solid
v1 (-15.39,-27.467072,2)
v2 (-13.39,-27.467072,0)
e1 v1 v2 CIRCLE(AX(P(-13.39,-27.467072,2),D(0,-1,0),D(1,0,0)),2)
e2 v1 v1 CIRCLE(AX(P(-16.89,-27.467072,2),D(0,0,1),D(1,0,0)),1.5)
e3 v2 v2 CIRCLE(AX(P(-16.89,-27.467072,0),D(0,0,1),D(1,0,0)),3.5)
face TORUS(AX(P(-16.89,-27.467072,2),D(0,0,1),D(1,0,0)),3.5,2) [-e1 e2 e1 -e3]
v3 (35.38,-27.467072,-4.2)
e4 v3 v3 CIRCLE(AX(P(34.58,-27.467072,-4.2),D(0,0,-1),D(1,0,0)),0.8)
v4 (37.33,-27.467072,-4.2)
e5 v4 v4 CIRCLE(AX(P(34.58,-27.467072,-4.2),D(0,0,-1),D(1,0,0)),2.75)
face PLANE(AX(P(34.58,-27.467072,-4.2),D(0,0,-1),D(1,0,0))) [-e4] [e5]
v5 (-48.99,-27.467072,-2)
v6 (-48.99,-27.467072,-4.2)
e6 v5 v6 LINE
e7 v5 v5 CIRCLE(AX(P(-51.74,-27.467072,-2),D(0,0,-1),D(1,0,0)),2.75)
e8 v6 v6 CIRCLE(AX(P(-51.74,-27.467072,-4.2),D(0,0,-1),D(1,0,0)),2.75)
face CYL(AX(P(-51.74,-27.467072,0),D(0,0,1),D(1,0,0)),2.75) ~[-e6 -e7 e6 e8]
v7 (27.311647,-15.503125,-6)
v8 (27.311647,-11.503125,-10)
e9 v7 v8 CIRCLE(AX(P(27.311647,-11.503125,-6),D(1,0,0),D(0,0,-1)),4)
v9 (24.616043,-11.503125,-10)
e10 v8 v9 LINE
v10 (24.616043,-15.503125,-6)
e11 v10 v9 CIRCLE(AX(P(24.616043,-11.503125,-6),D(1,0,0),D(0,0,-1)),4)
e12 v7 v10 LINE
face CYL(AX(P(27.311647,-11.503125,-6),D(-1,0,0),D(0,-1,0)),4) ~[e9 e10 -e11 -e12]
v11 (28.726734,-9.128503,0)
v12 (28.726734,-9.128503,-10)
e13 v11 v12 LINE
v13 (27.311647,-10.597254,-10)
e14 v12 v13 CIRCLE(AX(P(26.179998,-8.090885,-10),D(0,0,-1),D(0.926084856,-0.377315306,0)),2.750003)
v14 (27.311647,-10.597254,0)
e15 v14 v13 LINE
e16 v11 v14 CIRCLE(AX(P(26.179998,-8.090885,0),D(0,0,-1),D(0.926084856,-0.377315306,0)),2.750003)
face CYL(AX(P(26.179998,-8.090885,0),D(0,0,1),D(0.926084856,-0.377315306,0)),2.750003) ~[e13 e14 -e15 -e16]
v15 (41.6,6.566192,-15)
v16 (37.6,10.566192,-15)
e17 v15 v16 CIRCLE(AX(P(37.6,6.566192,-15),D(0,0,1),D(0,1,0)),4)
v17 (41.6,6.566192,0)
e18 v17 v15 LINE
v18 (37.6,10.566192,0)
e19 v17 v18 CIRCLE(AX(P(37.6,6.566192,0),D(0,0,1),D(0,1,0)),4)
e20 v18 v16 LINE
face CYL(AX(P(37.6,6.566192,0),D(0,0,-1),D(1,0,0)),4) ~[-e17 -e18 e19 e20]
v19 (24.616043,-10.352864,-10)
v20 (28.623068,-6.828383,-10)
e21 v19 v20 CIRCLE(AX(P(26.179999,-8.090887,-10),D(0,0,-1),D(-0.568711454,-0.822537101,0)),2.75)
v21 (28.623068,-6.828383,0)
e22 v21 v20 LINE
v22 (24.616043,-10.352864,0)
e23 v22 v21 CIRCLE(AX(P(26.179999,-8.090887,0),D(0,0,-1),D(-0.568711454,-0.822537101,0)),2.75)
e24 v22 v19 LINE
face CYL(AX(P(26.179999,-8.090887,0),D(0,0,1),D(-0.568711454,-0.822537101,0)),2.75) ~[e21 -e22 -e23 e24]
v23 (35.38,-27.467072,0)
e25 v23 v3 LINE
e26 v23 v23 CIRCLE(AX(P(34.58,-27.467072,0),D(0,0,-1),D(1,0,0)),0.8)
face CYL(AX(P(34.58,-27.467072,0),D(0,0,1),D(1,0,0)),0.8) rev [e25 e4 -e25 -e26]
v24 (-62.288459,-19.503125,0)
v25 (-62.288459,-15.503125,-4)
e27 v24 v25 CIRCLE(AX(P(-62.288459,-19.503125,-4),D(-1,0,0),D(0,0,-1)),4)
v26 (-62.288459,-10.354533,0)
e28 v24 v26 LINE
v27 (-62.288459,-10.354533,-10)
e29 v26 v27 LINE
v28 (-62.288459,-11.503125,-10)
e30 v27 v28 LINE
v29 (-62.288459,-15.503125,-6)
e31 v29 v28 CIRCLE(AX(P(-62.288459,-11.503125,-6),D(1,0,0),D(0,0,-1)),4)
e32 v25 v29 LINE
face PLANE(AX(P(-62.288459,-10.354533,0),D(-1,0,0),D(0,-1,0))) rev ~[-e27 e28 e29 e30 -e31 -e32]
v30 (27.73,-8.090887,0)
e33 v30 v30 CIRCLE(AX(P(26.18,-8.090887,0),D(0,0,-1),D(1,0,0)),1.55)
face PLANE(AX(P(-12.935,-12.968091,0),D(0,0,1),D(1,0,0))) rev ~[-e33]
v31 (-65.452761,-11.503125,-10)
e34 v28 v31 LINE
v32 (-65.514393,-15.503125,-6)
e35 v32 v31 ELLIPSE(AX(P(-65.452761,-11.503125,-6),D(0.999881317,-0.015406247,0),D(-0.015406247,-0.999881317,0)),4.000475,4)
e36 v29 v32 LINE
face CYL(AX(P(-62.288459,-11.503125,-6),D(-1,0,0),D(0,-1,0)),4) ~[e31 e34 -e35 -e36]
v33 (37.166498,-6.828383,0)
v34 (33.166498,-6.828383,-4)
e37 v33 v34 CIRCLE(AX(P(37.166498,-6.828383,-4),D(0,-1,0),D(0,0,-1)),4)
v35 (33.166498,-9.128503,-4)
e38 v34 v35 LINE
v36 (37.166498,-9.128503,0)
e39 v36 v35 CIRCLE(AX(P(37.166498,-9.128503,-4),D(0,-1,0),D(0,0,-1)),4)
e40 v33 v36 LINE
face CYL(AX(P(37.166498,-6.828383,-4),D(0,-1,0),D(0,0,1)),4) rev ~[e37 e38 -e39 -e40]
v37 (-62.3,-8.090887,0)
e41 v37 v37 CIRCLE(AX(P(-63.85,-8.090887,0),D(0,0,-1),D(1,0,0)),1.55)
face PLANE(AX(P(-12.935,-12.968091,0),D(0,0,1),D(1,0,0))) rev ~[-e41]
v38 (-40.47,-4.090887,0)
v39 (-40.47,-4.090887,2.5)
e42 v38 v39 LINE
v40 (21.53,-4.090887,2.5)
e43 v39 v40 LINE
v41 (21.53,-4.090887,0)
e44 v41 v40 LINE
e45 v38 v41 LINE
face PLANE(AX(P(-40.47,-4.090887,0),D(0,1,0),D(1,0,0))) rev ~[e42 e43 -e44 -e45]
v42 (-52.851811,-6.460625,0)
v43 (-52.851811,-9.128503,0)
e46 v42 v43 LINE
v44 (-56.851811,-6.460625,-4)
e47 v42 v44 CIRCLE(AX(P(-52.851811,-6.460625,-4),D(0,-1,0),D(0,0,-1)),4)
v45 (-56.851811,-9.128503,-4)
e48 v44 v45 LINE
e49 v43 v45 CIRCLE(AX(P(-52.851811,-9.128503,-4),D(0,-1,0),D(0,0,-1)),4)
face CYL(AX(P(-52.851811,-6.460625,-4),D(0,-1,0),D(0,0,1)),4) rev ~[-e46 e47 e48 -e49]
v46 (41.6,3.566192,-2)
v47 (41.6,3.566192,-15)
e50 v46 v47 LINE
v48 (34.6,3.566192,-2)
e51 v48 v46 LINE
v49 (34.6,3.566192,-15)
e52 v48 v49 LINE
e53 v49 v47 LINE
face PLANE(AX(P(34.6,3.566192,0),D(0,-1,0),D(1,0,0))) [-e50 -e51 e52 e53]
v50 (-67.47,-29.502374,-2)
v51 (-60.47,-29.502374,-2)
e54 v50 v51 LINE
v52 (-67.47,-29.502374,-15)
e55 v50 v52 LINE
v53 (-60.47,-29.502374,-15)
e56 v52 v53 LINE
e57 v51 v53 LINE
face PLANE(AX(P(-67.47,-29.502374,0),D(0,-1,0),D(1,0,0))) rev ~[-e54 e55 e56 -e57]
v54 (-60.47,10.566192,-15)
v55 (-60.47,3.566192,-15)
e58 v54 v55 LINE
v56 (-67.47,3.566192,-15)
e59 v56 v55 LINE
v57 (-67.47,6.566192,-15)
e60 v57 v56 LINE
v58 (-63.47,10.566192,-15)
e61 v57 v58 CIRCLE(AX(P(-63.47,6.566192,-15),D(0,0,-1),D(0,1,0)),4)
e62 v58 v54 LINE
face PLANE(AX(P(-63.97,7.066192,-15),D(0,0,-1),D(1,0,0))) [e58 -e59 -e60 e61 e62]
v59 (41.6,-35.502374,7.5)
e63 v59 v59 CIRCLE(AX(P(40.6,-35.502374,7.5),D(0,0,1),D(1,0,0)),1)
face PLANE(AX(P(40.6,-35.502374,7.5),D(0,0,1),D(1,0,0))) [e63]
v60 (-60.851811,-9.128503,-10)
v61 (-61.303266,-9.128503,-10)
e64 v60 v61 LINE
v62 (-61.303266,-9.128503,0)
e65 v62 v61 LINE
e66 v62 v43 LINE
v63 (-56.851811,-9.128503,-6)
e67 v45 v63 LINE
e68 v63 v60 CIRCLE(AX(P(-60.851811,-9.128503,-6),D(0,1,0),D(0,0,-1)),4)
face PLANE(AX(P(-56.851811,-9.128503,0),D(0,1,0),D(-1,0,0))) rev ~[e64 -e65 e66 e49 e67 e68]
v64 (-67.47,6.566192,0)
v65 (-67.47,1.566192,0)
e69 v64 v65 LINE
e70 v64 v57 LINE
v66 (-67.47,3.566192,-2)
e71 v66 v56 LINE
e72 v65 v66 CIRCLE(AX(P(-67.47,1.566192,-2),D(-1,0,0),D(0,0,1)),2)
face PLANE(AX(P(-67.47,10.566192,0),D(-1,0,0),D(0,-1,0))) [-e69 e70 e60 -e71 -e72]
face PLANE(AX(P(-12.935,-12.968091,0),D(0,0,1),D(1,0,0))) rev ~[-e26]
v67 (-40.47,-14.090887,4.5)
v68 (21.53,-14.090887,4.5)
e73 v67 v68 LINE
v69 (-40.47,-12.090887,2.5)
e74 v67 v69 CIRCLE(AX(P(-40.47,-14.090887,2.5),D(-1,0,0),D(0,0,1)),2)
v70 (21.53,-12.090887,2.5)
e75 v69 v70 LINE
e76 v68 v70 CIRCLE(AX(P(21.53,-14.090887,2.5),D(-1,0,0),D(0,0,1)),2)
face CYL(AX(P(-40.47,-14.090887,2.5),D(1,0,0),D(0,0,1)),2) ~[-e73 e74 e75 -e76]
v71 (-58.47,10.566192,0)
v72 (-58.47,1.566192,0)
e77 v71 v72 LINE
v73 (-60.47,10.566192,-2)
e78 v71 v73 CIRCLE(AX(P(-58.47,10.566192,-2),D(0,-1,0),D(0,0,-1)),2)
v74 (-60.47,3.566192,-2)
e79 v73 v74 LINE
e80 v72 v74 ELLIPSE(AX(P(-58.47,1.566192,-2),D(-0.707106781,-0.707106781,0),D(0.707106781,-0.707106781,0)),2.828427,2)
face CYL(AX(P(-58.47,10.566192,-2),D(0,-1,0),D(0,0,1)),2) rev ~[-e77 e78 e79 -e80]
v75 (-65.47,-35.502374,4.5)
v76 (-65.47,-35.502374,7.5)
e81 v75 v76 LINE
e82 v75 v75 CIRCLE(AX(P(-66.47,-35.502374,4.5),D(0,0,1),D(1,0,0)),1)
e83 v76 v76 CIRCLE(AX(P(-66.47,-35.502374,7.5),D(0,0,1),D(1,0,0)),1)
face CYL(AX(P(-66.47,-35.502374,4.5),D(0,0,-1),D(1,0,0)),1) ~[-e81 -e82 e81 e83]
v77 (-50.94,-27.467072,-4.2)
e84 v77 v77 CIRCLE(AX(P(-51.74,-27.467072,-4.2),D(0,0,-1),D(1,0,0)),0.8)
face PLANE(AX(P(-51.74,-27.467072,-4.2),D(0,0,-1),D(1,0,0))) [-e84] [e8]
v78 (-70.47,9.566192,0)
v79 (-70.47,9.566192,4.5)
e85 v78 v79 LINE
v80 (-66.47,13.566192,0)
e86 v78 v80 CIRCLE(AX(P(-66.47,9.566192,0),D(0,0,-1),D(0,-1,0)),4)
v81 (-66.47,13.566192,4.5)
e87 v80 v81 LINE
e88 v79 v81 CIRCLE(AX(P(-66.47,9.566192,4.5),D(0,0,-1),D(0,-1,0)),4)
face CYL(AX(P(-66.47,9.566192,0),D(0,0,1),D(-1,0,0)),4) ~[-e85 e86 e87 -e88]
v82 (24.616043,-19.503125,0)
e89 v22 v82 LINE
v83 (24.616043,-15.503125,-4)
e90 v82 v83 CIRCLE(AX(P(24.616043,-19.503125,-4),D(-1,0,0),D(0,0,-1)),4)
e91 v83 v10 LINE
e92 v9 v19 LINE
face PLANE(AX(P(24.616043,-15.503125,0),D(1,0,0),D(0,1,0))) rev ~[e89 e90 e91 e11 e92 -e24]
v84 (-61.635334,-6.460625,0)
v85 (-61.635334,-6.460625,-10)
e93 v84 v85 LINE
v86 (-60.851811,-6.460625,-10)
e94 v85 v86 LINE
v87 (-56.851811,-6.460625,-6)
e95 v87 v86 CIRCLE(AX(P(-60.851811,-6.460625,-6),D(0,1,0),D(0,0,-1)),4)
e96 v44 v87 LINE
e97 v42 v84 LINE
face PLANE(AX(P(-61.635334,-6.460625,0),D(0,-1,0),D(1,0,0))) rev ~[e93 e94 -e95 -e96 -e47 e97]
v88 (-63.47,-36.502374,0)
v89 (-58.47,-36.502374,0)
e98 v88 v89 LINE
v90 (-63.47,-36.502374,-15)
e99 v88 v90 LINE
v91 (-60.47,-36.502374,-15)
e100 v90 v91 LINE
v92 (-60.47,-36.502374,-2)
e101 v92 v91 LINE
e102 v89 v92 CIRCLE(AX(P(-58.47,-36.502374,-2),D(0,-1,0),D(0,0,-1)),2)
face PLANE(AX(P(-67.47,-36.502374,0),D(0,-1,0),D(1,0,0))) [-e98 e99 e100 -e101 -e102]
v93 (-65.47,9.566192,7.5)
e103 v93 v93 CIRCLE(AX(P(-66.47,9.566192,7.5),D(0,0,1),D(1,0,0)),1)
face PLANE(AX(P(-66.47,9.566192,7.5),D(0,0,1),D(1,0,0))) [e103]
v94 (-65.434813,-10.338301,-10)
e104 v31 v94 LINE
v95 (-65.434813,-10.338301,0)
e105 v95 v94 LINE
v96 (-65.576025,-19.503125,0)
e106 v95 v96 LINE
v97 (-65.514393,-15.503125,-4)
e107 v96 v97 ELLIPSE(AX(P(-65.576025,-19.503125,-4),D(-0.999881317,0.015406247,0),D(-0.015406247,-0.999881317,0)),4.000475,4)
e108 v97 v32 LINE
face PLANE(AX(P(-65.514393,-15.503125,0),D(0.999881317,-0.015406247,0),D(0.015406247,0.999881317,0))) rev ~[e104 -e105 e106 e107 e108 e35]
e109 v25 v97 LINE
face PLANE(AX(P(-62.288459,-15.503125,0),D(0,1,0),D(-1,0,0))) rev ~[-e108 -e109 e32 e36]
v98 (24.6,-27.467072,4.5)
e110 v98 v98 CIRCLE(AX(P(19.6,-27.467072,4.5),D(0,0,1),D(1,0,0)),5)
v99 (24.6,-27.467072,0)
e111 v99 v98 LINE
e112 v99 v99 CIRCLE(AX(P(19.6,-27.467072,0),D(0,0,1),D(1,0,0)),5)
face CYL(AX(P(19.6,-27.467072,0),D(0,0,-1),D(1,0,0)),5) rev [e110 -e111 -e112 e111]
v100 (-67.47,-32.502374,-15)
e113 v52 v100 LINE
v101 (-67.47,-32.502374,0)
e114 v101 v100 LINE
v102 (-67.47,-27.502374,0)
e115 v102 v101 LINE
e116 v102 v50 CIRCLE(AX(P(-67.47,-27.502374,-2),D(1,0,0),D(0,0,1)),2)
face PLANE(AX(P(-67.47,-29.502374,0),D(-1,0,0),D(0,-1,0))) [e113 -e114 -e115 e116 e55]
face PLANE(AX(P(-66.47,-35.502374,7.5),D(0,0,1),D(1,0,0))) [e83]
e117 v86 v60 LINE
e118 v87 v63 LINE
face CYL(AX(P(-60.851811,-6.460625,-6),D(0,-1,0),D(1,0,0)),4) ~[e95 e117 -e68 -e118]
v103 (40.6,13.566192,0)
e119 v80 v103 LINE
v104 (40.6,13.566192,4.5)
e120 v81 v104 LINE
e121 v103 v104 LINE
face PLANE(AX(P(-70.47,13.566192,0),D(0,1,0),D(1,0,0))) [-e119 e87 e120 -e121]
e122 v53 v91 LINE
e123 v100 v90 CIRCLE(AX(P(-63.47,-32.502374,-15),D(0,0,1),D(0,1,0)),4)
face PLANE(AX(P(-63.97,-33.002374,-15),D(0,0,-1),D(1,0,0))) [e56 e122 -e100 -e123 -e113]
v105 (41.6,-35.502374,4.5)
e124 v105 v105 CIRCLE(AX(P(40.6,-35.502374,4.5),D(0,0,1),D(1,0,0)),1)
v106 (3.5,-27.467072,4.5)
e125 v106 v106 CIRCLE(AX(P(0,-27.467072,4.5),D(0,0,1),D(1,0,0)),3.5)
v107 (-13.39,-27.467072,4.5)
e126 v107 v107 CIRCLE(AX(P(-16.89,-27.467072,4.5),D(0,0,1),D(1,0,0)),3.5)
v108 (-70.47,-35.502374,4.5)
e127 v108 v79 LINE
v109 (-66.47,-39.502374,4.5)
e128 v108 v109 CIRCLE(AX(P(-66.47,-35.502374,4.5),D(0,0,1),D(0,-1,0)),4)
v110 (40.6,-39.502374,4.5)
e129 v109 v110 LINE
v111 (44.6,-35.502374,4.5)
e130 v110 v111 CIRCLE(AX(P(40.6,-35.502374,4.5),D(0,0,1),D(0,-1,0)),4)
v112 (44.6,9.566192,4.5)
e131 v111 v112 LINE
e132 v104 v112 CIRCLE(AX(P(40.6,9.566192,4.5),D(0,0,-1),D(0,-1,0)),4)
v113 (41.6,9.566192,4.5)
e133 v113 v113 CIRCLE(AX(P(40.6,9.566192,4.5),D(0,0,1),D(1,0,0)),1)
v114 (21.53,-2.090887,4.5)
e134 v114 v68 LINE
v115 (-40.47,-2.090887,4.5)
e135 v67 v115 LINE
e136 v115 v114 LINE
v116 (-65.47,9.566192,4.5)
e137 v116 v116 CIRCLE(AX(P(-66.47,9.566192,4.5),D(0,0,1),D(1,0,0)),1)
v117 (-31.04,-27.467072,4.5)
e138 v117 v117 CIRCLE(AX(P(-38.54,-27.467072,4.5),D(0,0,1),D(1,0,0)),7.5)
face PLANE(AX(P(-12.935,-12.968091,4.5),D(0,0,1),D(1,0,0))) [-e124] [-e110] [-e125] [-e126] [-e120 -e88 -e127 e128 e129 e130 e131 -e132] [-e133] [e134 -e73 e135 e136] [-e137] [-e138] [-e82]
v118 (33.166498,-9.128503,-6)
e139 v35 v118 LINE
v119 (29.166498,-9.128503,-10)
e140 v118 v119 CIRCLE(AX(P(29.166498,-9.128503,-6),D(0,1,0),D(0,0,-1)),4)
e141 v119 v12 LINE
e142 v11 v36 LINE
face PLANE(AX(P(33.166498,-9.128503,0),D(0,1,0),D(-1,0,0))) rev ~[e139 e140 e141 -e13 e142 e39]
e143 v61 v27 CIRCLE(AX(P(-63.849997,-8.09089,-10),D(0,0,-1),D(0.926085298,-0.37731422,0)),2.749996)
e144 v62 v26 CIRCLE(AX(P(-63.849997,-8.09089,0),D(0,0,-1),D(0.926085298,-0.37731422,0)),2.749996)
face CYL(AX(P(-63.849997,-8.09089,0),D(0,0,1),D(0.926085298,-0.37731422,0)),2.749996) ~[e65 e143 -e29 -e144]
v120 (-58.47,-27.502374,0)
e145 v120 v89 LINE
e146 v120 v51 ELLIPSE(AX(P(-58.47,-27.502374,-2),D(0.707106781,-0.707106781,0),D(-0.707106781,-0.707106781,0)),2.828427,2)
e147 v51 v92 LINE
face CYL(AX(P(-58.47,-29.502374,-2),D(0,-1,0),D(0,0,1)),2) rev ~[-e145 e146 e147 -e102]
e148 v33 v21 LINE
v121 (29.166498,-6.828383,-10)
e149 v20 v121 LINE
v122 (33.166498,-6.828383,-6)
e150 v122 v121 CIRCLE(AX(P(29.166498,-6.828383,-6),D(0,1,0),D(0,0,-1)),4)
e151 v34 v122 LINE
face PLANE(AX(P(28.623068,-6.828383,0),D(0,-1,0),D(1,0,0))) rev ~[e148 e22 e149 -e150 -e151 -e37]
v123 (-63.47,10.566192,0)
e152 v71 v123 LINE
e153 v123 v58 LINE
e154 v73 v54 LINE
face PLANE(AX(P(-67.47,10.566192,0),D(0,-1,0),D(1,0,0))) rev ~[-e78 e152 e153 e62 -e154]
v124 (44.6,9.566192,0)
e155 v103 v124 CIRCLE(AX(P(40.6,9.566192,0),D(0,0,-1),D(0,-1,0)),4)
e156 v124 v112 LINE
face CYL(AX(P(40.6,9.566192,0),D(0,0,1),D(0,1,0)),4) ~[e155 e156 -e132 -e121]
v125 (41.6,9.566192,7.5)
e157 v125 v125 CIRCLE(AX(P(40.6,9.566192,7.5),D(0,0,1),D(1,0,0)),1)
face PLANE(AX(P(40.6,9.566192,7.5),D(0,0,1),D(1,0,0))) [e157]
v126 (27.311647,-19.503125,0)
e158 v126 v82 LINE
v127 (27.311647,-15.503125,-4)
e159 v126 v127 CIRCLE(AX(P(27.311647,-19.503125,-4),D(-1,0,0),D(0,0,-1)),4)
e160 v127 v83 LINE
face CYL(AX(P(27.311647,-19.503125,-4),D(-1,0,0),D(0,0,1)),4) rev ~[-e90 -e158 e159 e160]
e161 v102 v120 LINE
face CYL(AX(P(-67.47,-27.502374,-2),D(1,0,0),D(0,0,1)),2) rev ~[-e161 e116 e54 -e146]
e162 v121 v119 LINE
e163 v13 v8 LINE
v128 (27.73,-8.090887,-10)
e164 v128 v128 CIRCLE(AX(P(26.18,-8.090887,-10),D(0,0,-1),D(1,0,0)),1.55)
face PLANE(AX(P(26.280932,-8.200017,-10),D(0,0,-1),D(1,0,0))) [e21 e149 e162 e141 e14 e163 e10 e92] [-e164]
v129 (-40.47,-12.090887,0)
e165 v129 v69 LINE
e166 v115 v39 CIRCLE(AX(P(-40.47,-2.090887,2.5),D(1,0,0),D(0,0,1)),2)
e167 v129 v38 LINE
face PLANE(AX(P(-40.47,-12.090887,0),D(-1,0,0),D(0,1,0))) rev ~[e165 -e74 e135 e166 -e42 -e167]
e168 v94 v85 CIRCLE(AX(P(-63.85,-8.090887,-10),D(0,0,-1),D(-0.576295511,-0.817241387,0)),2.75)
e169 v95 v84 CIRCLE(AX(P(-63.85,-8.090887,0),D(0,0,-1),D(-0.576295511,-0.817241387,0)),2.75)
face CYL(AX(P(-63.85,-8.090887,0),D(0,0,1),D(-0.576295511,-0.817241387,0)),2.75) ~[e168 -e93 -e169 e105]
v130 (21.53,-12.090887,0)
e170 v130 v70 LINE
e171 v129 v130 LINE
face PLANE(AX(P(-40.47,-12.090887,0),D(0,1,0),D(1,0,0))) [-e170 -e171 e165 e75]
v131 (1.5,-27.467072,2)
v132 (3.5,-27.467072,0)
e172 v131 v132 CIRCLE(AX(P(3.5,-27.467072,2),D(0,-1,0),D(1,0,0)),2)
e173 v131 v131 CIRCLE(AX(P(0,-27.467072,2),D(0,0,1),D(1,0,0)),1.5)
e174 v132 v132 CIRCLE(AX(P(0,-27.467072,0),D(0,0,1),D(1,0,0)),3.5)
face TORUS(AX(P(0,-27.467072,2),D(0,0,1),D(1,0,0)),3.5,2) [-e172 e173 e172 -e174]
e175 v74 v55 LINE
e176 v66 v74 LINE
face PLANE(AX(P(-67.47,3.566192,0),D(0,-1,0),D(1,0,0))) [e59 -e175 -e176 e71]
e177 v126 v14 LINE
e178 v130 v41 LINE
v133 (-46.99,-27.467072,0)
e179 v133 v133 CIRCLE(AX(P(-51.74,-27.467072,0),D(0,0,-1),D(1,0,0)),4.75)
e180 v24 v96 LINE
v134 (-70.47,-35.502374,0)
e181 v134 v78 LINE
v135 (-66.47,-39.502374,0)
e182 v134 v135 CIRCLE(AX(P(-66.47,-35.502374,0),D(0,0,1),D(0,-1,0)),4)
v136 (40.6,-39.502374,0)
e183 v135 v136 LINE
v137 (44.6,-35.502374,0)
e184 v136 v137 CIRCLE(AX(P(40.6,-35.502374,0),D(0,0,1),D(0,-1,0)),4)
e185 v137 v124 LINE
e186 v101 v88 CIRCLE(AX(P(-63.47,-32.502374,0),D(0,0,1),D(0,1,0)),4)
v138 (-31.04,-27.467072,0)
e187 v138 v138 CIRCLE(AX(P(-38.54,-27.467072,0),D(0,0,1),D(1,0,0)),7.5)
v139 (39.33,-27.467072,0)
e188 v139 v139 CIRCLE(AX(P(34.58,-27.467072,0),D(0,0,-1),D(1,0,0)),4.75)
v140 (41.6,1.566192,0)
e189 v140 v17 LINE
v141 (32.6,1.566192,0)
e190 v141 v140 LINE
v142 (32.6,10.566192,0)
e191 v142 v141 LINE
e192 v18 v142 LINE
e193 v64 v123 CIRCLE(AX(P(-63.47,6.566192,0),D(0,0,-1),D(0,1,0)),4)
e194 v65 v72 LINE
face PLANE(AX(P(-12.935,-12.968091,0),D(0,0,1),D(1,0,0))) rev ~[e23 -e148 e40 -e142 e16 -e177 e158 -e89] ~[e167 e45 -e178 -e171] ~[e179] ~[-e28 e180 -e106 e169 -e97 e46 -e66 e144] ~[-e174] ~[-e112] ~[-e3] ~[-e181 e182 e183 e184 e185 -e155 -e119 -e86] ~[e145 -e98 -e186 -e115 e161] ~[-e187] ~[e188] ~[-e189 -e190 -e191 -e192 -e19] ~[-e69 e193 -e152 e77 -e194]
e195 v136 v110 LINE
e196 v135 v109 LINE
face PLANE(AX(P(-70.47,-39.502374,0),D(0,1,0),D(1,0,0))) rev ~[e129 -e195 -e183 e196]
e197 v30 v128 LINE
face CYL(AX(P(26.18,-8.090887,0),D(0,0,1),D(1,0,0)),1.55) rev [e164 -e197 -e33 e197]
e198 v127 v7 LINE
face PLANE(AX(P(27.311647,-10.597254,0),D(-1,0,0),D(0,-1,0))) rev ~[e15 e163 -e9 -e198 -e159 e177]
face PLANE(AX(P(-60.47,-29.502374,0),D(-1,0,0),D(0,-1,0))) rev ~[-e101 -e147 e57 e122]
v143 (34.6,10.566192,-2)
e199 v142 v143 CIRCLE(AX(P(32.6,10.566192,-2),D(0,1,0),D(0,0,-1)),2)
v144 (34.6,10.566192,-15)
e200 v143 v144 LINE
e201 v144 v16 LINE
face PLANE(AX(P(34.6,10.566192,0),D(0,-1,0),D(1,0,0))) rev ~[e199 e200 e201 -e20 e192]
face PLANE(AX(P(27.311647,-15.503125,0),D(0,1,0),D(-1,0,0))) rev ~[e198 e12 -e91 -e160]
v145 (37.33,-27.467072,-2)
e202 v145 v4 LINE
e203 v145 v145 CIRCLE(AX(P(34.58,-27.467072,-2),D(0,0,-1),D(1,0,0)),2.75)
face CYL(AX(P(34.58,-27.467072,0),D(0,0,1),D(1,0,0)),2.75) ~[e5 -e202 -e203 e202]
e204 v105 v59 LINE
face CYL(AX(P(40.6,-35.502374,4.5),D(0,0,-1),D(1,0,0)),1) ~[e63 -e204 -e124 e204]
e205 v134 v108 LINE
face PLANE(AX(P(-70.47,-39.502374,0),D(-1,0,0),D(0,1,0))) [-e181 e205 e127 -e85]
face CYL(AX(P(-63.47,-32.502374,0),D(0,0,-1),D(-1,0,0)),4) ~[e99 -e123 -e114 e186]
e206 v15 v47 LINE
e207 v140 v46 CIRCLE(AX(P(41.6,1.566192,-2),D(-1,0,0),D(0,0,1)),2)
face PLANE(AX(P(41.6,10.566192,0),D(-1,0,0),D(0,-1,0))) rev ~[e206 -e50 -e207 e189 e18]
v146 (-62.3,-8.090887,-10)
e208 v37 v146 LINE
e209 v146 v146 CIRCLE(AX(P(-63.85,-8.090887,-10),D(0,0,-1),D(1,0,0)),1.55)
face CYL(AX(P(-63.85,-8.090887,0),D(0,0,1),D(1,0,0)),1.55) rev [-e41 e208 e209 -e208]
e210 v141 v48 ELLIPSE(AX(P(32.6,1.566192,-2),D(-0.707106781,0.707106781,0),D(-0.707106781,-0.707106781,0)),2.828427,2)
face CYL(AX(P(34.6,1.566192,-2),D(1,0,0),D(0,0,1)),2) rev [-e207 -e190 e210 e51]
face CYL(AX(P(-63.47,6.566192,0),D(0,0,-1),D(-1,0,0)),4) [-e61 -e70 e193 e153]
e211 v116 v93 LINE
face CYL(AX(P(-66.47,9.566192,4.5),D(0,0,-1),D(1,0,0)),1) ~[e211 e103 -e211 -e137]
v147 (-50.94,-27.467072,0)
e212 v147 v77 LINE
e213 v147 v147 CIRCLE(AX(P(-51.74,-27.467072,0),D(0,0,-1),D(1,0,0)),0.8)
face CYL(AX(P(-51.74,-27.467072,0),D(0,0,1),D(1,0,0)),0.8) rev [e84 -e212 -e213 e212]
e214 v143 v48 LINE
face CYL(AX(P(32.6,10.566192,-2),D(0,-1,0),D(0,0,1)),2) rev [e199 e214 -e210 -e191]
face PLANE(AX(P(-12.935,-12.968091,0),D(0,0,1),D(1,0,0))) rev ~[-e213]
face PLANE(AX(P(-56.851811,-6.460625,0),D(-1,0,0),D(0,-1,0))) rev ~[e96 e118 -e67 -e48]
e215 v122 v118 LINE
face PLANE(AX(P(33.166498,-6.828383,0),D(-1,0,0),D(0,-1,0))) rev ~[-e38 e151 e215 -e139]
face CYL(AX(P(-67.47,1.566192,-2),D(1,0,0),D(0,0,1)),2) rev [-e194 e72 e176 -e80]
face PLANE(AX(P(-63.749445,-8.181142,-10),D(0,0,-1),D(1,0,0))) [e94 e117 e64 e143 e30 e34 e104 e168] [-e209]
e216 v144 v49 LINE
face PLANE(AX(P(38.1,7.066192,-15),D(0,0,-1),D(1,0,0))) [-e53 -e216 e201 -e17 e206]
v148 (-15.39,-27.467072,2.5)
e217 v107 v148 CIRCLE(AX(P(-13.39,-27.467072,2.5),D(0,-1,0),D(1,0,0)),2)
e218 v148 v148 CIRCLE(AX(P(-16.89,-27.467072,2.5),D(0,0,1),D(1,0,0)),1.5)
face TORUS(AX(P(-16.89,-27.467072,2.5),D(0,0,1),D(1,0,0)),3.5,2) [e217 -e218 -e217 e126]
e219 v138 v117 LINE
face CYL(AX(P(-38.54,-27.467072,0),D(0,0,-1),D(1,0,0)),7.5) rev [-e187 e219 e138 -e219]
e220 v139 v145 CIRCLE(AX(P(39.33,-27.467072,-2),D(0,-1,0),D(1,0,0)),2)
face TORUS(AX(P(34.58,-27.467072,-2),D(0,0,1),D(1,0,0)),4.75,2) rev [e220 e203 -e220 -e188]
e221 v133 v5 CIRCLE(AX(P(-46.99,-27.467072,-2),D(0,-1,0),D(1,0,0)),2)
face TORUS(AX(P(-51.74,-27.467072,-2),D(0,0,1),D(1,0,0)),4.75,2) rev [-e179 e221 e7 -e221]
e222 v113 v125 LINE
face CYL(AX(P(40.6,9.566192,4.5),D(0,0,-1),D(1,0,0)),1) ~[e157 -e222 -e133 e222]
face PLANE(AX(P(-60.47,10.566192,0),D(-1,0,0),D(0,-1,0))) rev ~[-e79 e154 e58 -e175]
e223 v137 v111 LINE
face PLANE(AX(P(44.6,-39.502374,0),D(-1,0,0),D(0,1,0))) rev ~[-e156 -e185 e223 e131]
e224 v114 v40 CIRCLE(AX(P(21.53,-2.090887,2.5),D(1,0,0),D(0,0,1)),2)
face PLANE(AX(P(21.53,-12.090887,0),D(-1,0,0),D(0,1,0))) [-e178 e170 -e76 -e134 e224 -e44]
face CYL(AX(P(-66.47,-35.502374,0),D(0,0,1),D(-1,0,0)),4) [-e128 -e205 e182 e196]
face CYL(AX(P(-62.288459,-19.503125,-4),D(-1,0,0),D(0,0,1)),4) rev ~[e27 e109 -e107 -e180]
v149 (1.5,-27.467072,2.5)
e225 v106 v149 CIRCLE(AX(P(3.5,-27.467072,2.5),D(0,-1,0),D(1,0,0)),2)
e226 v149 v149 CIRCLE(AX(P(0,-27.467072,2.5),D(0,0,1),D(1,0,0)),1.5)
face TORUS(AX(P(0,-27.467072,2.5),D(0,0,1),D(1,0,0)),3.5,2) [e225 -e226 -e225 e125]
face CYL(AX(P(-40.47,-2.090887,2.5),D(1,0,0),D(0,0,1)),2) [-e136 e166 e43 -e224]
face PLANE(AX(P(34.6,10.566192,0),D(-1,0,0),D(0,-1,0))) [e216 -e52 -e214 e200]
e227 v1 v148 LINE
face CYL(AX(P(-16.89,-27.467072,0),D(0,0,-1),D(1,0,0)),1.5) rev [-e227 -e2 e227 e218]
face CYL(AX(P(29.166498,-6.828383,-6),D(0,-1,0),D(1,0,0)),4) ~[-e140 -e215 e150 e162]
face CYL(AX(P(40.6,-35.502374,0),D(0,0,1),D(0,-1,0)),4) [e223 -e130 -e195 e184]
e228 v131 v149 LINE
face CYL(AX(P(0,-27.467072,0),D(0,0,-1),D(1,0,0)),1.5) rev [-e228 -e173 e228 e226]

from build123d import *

# Parameters (mm, degrees)
F0_W     = 115.07
F0_H     = 53.068566
F0_R     = 7.5
F0_R_2   = 1.5
F0_R_3   = 5
F0_W_2   = 62
F0_H_2   = 8
F1_DEPTH = 4.5
F2_R     = 2.75
F2_R_2   = 0.8
F3_DEPTH = 4.2
F2_R_3   = 1.55
F4_DEPTH = 10
F2_W     = 7
F2_H     = 7
F5_DEPTH = 15
F6_R     = 4
F7_R     = 2
F8_R     = 1
F9_DEPTH = 3


with BuildPart() as f1:
    # F0 (on Top) → F1 (new body)
    with BuildSketch(Plane.XY):
        with Locations((-12.935, -12.968091)):
            Rectangle(F0_W, F0_H)
        with Locations((-38.54, -27.467072)):
            Circle(F0_R, mode=Mode.SUBTRACT)
        with Locations((-16.89, -27.467072)):
            Circle(F0_R_2, mode=Mode.SUBTRACT)
        with Locations((0, -27.467072)):
            Circle(F0_R_2, mode=Mode.SUBTRACT)
        with Locations((19.6, -27.467072)):
            Circle(F0_R_3, mode=Mode.SUBTRACT)
        with Locations((-9.47, -8.090887)):
            Rectangle(F0_W_2, F0_H_2, mode=Mode.SUBTRACT)
    extrude(amount=F1_DEPTH)

    # F2 (on face) → F3 (join)
    with BuildSketch(Plane(origin=(0, 0, 0), x_dir=(1, 0, 0), z_dir=(0, 0, -1))):
        with Locations((-51.74, 27.467072)):
            Circle(F2_R)
        with Locations((-51.74, 27.467072)):
            Circle(F2_R_2, mode=Mode.SUBTRACT)
        with Locations((34.58, 27.467072)):
            Circle(F2_R)
        with Locations((34.58, 27.467072)):
            Circle(F2_R_2, mode=Mode.SUBTRACT)
    extrude(amount=F3_DEPTH)

    # F2 (on face) → F4 (join)
    with BuildSketch(Plane(origin=(0, 0, 0), x_dir=(1, 0, 0), z_dir=(0, 0, -1))):
        with BuildLine():
            ThreePointArc((-61.635334, 6.460625), (-61.237259, 7.232933), (-61.1, 8.090887))
            ThreePointArc((-61.1, 8.090887), (-61.151295, 8.619556), (-61.303266, 9.128503))
            ThreePointArc((-61.303266, 9.128503), (-61.706342, 9.813453), (-62.288459, 10.354533))
            ThreePointArc((-62.288459, 10.354533), (-63.864187, 10.840851), (-65.434813, 10.338301))
            ThreePointArc((-65.434813, 10.338301), (-65.814249, 6.16625), (-61.635334, 6.460625))
        make_face()
        with Locations((-63.85, 8.090887)):
            Circle(F2_R_3, mode=Mode.SUBTRACT)
        with BuildLine():
            ThreePointArc((28.623068, 6.828383), (28.852166, 7.441248), (28.93, 8.090887))
            ThreePointArc((28.93, 8.090887), (28.878705, 8.619556), (28.726734, 9.128503))
            ThreePointArc((28.726734, 9.128503), (28.160386, 9.998915), (27.311647, 10.597254))
            ThreePointArc((27.311647, 10.597254), (25.931697, 10.829655), (24.616043, 10.352864))
            ThreePointArc((24.616043, 10.352864), (24.363767, 6.02599), (28.623068, 6.828383))
        make_face()
        with Locations((26.18, 8.090887)):
            Circle(F2_R_3, mode=Mode.SUBTRACT)
        with BuildLine():
            ThreePointArc((-65.434813, 10.338301), (-63.864187, 10.840851), (-62.288459, 10.354533))
            Line((-62.288459, 10.354533), (-62.288459, 15.503125))
            Line((-62.288459, 15.503125), (-65.514393, 15.503125))
            Line((-65.514393, 15.503125), (-65.434813, 10.338301))
        make_face()
        with BuildLine():
            ThreePointArc((-61.303266, 9.128503), (-61.151295, 8.619556), (-61.1, 8.090887))
            ThreePointArc((-61.1, 8.090887), (-61.237259, 7.232933), (-61.635334, 6.460625))
            Line((-61.635334, 6.460625), (-56.851811, 6.460625))
            Line((-56.851811, 6.460625), (-56.851811, 9.128503))
            Line((-56.851811, 9.128503), (-61.303266, 9.128503))
        make_face()
        with BuildLine():
            ThreePointArc((24.616043, 10.352864), (25.931697, 10.829655), (27.311647, 10.597254))
            Line((27.311647, 10.597254), (27.311647, 15.503125))
            Line((27.311647, 15.503125), (24.616043, 15.503125))
            Line((24.616043, 15.503125), (24.616043, 10.352864))
        make_face()
        with BuildLine():
            ThreePointArc((28.726734, 9.128503), (28.878705, 8.619556), (28.93, 8.090887))
            ThreePointArc((28.93, 8.090887), (28.852166, 7.441248), (28.623068, 6.828383))
            Line((28.623068, 6.828383), (33.166498, 6.828383))
            Line((33.166498, 6.828383), (33.166498, 9.128503))
            Line((33.166498, 9.128503), (28.726734, 9.128503))
        make_face()
    extrude(amount=F4_DEPTH)

    # F2 (on face) → F5 (join)
    with BuildSketch(Plane(origin=(0, 0, 0), x_dir=(1, 0, 0), z_dir=(0, 0, -1))):
        with Locations((-63.97, 33.002374)):
            Rectangle(F2_W, F2_H)
        with Locations((38.1, -7.066192)):
            Rectangle(F2_W, F2_H)
        with Locations((-63.97, -7.066192)):
            Rectangle(F2_W, F2_H)
    extrude(amount=F5_DEPTH)

    # F6
    f6_edges = [f1.edges().sort_by_distance(p)[0] for p in [
        (-70.47, -39.502374, 2.25),
        (-70.47, 13.566192, 2.25),
        (-67.47, -36.502374, -7.5),
        (-67.47, 10.566192, -7.5),
        (41.6, 10.566192, -7.5),
        (44.6, 13.566192, 2.25),
        (44.6, -39.502374, 2.25),
        (-63.901426, -15.503125, 0),
        (-56.851811, -7.794564, 0),
        (-63.901426, -15.503125, -10),
        (-56.851811, -7.794564, -10),
        (25.963845, -15.503125, -10),
        (25.963845, -15.503125, 0),
        (33.166498, -7.978443, -10),
        (33.166498, -7.978443, 0),
    ]]
    fillet(f6_edges, radius=F6_R)

    # F7
    f7_edges = [f1.edges().sort_by_distance(p)[0] for p in [
        (31.83, -27.467072, 0),
        (-54.49, -27.467072, 0),
        (-60.47, 7.066192, 0),
        (-63.97, 3.566192, 0),
        (34.6, 7.066192, 0),
        (38.1, 3.566192, 0),
        (-60.47, -33.002374, 0),
        (-63.97, -29.502374, 0),
        (-9.47, -12.090887, 4.5),
        (-9.47, -4.090887, 4.5),
        (-1.5, -27.467072, 4.5),
        (-18.39, -27.467072, 4.5),
        (-1.5, -27.467072, 0),
        (-18.39, -27.467072, 0),
    ]]
    fillet(f7_edges, radius=F7_R)

    # F8 (on face) → F9 (join)
    with BuildSketch(Plane.XY.offset(4.5)):
        with Locations((-66.47, 9.566192)):
            Circle(F8_R)
        with Locations((40.6, 9.566192)):
            Circle(F8_R)
        with Locations((40.6, -35.502374)):
            Circle(F8_R)
        with Locations((-66.47, -35.502374)):
            Circle(F8_R)
    extrude(amount=F9_DEPTH)


solid = f1.part
